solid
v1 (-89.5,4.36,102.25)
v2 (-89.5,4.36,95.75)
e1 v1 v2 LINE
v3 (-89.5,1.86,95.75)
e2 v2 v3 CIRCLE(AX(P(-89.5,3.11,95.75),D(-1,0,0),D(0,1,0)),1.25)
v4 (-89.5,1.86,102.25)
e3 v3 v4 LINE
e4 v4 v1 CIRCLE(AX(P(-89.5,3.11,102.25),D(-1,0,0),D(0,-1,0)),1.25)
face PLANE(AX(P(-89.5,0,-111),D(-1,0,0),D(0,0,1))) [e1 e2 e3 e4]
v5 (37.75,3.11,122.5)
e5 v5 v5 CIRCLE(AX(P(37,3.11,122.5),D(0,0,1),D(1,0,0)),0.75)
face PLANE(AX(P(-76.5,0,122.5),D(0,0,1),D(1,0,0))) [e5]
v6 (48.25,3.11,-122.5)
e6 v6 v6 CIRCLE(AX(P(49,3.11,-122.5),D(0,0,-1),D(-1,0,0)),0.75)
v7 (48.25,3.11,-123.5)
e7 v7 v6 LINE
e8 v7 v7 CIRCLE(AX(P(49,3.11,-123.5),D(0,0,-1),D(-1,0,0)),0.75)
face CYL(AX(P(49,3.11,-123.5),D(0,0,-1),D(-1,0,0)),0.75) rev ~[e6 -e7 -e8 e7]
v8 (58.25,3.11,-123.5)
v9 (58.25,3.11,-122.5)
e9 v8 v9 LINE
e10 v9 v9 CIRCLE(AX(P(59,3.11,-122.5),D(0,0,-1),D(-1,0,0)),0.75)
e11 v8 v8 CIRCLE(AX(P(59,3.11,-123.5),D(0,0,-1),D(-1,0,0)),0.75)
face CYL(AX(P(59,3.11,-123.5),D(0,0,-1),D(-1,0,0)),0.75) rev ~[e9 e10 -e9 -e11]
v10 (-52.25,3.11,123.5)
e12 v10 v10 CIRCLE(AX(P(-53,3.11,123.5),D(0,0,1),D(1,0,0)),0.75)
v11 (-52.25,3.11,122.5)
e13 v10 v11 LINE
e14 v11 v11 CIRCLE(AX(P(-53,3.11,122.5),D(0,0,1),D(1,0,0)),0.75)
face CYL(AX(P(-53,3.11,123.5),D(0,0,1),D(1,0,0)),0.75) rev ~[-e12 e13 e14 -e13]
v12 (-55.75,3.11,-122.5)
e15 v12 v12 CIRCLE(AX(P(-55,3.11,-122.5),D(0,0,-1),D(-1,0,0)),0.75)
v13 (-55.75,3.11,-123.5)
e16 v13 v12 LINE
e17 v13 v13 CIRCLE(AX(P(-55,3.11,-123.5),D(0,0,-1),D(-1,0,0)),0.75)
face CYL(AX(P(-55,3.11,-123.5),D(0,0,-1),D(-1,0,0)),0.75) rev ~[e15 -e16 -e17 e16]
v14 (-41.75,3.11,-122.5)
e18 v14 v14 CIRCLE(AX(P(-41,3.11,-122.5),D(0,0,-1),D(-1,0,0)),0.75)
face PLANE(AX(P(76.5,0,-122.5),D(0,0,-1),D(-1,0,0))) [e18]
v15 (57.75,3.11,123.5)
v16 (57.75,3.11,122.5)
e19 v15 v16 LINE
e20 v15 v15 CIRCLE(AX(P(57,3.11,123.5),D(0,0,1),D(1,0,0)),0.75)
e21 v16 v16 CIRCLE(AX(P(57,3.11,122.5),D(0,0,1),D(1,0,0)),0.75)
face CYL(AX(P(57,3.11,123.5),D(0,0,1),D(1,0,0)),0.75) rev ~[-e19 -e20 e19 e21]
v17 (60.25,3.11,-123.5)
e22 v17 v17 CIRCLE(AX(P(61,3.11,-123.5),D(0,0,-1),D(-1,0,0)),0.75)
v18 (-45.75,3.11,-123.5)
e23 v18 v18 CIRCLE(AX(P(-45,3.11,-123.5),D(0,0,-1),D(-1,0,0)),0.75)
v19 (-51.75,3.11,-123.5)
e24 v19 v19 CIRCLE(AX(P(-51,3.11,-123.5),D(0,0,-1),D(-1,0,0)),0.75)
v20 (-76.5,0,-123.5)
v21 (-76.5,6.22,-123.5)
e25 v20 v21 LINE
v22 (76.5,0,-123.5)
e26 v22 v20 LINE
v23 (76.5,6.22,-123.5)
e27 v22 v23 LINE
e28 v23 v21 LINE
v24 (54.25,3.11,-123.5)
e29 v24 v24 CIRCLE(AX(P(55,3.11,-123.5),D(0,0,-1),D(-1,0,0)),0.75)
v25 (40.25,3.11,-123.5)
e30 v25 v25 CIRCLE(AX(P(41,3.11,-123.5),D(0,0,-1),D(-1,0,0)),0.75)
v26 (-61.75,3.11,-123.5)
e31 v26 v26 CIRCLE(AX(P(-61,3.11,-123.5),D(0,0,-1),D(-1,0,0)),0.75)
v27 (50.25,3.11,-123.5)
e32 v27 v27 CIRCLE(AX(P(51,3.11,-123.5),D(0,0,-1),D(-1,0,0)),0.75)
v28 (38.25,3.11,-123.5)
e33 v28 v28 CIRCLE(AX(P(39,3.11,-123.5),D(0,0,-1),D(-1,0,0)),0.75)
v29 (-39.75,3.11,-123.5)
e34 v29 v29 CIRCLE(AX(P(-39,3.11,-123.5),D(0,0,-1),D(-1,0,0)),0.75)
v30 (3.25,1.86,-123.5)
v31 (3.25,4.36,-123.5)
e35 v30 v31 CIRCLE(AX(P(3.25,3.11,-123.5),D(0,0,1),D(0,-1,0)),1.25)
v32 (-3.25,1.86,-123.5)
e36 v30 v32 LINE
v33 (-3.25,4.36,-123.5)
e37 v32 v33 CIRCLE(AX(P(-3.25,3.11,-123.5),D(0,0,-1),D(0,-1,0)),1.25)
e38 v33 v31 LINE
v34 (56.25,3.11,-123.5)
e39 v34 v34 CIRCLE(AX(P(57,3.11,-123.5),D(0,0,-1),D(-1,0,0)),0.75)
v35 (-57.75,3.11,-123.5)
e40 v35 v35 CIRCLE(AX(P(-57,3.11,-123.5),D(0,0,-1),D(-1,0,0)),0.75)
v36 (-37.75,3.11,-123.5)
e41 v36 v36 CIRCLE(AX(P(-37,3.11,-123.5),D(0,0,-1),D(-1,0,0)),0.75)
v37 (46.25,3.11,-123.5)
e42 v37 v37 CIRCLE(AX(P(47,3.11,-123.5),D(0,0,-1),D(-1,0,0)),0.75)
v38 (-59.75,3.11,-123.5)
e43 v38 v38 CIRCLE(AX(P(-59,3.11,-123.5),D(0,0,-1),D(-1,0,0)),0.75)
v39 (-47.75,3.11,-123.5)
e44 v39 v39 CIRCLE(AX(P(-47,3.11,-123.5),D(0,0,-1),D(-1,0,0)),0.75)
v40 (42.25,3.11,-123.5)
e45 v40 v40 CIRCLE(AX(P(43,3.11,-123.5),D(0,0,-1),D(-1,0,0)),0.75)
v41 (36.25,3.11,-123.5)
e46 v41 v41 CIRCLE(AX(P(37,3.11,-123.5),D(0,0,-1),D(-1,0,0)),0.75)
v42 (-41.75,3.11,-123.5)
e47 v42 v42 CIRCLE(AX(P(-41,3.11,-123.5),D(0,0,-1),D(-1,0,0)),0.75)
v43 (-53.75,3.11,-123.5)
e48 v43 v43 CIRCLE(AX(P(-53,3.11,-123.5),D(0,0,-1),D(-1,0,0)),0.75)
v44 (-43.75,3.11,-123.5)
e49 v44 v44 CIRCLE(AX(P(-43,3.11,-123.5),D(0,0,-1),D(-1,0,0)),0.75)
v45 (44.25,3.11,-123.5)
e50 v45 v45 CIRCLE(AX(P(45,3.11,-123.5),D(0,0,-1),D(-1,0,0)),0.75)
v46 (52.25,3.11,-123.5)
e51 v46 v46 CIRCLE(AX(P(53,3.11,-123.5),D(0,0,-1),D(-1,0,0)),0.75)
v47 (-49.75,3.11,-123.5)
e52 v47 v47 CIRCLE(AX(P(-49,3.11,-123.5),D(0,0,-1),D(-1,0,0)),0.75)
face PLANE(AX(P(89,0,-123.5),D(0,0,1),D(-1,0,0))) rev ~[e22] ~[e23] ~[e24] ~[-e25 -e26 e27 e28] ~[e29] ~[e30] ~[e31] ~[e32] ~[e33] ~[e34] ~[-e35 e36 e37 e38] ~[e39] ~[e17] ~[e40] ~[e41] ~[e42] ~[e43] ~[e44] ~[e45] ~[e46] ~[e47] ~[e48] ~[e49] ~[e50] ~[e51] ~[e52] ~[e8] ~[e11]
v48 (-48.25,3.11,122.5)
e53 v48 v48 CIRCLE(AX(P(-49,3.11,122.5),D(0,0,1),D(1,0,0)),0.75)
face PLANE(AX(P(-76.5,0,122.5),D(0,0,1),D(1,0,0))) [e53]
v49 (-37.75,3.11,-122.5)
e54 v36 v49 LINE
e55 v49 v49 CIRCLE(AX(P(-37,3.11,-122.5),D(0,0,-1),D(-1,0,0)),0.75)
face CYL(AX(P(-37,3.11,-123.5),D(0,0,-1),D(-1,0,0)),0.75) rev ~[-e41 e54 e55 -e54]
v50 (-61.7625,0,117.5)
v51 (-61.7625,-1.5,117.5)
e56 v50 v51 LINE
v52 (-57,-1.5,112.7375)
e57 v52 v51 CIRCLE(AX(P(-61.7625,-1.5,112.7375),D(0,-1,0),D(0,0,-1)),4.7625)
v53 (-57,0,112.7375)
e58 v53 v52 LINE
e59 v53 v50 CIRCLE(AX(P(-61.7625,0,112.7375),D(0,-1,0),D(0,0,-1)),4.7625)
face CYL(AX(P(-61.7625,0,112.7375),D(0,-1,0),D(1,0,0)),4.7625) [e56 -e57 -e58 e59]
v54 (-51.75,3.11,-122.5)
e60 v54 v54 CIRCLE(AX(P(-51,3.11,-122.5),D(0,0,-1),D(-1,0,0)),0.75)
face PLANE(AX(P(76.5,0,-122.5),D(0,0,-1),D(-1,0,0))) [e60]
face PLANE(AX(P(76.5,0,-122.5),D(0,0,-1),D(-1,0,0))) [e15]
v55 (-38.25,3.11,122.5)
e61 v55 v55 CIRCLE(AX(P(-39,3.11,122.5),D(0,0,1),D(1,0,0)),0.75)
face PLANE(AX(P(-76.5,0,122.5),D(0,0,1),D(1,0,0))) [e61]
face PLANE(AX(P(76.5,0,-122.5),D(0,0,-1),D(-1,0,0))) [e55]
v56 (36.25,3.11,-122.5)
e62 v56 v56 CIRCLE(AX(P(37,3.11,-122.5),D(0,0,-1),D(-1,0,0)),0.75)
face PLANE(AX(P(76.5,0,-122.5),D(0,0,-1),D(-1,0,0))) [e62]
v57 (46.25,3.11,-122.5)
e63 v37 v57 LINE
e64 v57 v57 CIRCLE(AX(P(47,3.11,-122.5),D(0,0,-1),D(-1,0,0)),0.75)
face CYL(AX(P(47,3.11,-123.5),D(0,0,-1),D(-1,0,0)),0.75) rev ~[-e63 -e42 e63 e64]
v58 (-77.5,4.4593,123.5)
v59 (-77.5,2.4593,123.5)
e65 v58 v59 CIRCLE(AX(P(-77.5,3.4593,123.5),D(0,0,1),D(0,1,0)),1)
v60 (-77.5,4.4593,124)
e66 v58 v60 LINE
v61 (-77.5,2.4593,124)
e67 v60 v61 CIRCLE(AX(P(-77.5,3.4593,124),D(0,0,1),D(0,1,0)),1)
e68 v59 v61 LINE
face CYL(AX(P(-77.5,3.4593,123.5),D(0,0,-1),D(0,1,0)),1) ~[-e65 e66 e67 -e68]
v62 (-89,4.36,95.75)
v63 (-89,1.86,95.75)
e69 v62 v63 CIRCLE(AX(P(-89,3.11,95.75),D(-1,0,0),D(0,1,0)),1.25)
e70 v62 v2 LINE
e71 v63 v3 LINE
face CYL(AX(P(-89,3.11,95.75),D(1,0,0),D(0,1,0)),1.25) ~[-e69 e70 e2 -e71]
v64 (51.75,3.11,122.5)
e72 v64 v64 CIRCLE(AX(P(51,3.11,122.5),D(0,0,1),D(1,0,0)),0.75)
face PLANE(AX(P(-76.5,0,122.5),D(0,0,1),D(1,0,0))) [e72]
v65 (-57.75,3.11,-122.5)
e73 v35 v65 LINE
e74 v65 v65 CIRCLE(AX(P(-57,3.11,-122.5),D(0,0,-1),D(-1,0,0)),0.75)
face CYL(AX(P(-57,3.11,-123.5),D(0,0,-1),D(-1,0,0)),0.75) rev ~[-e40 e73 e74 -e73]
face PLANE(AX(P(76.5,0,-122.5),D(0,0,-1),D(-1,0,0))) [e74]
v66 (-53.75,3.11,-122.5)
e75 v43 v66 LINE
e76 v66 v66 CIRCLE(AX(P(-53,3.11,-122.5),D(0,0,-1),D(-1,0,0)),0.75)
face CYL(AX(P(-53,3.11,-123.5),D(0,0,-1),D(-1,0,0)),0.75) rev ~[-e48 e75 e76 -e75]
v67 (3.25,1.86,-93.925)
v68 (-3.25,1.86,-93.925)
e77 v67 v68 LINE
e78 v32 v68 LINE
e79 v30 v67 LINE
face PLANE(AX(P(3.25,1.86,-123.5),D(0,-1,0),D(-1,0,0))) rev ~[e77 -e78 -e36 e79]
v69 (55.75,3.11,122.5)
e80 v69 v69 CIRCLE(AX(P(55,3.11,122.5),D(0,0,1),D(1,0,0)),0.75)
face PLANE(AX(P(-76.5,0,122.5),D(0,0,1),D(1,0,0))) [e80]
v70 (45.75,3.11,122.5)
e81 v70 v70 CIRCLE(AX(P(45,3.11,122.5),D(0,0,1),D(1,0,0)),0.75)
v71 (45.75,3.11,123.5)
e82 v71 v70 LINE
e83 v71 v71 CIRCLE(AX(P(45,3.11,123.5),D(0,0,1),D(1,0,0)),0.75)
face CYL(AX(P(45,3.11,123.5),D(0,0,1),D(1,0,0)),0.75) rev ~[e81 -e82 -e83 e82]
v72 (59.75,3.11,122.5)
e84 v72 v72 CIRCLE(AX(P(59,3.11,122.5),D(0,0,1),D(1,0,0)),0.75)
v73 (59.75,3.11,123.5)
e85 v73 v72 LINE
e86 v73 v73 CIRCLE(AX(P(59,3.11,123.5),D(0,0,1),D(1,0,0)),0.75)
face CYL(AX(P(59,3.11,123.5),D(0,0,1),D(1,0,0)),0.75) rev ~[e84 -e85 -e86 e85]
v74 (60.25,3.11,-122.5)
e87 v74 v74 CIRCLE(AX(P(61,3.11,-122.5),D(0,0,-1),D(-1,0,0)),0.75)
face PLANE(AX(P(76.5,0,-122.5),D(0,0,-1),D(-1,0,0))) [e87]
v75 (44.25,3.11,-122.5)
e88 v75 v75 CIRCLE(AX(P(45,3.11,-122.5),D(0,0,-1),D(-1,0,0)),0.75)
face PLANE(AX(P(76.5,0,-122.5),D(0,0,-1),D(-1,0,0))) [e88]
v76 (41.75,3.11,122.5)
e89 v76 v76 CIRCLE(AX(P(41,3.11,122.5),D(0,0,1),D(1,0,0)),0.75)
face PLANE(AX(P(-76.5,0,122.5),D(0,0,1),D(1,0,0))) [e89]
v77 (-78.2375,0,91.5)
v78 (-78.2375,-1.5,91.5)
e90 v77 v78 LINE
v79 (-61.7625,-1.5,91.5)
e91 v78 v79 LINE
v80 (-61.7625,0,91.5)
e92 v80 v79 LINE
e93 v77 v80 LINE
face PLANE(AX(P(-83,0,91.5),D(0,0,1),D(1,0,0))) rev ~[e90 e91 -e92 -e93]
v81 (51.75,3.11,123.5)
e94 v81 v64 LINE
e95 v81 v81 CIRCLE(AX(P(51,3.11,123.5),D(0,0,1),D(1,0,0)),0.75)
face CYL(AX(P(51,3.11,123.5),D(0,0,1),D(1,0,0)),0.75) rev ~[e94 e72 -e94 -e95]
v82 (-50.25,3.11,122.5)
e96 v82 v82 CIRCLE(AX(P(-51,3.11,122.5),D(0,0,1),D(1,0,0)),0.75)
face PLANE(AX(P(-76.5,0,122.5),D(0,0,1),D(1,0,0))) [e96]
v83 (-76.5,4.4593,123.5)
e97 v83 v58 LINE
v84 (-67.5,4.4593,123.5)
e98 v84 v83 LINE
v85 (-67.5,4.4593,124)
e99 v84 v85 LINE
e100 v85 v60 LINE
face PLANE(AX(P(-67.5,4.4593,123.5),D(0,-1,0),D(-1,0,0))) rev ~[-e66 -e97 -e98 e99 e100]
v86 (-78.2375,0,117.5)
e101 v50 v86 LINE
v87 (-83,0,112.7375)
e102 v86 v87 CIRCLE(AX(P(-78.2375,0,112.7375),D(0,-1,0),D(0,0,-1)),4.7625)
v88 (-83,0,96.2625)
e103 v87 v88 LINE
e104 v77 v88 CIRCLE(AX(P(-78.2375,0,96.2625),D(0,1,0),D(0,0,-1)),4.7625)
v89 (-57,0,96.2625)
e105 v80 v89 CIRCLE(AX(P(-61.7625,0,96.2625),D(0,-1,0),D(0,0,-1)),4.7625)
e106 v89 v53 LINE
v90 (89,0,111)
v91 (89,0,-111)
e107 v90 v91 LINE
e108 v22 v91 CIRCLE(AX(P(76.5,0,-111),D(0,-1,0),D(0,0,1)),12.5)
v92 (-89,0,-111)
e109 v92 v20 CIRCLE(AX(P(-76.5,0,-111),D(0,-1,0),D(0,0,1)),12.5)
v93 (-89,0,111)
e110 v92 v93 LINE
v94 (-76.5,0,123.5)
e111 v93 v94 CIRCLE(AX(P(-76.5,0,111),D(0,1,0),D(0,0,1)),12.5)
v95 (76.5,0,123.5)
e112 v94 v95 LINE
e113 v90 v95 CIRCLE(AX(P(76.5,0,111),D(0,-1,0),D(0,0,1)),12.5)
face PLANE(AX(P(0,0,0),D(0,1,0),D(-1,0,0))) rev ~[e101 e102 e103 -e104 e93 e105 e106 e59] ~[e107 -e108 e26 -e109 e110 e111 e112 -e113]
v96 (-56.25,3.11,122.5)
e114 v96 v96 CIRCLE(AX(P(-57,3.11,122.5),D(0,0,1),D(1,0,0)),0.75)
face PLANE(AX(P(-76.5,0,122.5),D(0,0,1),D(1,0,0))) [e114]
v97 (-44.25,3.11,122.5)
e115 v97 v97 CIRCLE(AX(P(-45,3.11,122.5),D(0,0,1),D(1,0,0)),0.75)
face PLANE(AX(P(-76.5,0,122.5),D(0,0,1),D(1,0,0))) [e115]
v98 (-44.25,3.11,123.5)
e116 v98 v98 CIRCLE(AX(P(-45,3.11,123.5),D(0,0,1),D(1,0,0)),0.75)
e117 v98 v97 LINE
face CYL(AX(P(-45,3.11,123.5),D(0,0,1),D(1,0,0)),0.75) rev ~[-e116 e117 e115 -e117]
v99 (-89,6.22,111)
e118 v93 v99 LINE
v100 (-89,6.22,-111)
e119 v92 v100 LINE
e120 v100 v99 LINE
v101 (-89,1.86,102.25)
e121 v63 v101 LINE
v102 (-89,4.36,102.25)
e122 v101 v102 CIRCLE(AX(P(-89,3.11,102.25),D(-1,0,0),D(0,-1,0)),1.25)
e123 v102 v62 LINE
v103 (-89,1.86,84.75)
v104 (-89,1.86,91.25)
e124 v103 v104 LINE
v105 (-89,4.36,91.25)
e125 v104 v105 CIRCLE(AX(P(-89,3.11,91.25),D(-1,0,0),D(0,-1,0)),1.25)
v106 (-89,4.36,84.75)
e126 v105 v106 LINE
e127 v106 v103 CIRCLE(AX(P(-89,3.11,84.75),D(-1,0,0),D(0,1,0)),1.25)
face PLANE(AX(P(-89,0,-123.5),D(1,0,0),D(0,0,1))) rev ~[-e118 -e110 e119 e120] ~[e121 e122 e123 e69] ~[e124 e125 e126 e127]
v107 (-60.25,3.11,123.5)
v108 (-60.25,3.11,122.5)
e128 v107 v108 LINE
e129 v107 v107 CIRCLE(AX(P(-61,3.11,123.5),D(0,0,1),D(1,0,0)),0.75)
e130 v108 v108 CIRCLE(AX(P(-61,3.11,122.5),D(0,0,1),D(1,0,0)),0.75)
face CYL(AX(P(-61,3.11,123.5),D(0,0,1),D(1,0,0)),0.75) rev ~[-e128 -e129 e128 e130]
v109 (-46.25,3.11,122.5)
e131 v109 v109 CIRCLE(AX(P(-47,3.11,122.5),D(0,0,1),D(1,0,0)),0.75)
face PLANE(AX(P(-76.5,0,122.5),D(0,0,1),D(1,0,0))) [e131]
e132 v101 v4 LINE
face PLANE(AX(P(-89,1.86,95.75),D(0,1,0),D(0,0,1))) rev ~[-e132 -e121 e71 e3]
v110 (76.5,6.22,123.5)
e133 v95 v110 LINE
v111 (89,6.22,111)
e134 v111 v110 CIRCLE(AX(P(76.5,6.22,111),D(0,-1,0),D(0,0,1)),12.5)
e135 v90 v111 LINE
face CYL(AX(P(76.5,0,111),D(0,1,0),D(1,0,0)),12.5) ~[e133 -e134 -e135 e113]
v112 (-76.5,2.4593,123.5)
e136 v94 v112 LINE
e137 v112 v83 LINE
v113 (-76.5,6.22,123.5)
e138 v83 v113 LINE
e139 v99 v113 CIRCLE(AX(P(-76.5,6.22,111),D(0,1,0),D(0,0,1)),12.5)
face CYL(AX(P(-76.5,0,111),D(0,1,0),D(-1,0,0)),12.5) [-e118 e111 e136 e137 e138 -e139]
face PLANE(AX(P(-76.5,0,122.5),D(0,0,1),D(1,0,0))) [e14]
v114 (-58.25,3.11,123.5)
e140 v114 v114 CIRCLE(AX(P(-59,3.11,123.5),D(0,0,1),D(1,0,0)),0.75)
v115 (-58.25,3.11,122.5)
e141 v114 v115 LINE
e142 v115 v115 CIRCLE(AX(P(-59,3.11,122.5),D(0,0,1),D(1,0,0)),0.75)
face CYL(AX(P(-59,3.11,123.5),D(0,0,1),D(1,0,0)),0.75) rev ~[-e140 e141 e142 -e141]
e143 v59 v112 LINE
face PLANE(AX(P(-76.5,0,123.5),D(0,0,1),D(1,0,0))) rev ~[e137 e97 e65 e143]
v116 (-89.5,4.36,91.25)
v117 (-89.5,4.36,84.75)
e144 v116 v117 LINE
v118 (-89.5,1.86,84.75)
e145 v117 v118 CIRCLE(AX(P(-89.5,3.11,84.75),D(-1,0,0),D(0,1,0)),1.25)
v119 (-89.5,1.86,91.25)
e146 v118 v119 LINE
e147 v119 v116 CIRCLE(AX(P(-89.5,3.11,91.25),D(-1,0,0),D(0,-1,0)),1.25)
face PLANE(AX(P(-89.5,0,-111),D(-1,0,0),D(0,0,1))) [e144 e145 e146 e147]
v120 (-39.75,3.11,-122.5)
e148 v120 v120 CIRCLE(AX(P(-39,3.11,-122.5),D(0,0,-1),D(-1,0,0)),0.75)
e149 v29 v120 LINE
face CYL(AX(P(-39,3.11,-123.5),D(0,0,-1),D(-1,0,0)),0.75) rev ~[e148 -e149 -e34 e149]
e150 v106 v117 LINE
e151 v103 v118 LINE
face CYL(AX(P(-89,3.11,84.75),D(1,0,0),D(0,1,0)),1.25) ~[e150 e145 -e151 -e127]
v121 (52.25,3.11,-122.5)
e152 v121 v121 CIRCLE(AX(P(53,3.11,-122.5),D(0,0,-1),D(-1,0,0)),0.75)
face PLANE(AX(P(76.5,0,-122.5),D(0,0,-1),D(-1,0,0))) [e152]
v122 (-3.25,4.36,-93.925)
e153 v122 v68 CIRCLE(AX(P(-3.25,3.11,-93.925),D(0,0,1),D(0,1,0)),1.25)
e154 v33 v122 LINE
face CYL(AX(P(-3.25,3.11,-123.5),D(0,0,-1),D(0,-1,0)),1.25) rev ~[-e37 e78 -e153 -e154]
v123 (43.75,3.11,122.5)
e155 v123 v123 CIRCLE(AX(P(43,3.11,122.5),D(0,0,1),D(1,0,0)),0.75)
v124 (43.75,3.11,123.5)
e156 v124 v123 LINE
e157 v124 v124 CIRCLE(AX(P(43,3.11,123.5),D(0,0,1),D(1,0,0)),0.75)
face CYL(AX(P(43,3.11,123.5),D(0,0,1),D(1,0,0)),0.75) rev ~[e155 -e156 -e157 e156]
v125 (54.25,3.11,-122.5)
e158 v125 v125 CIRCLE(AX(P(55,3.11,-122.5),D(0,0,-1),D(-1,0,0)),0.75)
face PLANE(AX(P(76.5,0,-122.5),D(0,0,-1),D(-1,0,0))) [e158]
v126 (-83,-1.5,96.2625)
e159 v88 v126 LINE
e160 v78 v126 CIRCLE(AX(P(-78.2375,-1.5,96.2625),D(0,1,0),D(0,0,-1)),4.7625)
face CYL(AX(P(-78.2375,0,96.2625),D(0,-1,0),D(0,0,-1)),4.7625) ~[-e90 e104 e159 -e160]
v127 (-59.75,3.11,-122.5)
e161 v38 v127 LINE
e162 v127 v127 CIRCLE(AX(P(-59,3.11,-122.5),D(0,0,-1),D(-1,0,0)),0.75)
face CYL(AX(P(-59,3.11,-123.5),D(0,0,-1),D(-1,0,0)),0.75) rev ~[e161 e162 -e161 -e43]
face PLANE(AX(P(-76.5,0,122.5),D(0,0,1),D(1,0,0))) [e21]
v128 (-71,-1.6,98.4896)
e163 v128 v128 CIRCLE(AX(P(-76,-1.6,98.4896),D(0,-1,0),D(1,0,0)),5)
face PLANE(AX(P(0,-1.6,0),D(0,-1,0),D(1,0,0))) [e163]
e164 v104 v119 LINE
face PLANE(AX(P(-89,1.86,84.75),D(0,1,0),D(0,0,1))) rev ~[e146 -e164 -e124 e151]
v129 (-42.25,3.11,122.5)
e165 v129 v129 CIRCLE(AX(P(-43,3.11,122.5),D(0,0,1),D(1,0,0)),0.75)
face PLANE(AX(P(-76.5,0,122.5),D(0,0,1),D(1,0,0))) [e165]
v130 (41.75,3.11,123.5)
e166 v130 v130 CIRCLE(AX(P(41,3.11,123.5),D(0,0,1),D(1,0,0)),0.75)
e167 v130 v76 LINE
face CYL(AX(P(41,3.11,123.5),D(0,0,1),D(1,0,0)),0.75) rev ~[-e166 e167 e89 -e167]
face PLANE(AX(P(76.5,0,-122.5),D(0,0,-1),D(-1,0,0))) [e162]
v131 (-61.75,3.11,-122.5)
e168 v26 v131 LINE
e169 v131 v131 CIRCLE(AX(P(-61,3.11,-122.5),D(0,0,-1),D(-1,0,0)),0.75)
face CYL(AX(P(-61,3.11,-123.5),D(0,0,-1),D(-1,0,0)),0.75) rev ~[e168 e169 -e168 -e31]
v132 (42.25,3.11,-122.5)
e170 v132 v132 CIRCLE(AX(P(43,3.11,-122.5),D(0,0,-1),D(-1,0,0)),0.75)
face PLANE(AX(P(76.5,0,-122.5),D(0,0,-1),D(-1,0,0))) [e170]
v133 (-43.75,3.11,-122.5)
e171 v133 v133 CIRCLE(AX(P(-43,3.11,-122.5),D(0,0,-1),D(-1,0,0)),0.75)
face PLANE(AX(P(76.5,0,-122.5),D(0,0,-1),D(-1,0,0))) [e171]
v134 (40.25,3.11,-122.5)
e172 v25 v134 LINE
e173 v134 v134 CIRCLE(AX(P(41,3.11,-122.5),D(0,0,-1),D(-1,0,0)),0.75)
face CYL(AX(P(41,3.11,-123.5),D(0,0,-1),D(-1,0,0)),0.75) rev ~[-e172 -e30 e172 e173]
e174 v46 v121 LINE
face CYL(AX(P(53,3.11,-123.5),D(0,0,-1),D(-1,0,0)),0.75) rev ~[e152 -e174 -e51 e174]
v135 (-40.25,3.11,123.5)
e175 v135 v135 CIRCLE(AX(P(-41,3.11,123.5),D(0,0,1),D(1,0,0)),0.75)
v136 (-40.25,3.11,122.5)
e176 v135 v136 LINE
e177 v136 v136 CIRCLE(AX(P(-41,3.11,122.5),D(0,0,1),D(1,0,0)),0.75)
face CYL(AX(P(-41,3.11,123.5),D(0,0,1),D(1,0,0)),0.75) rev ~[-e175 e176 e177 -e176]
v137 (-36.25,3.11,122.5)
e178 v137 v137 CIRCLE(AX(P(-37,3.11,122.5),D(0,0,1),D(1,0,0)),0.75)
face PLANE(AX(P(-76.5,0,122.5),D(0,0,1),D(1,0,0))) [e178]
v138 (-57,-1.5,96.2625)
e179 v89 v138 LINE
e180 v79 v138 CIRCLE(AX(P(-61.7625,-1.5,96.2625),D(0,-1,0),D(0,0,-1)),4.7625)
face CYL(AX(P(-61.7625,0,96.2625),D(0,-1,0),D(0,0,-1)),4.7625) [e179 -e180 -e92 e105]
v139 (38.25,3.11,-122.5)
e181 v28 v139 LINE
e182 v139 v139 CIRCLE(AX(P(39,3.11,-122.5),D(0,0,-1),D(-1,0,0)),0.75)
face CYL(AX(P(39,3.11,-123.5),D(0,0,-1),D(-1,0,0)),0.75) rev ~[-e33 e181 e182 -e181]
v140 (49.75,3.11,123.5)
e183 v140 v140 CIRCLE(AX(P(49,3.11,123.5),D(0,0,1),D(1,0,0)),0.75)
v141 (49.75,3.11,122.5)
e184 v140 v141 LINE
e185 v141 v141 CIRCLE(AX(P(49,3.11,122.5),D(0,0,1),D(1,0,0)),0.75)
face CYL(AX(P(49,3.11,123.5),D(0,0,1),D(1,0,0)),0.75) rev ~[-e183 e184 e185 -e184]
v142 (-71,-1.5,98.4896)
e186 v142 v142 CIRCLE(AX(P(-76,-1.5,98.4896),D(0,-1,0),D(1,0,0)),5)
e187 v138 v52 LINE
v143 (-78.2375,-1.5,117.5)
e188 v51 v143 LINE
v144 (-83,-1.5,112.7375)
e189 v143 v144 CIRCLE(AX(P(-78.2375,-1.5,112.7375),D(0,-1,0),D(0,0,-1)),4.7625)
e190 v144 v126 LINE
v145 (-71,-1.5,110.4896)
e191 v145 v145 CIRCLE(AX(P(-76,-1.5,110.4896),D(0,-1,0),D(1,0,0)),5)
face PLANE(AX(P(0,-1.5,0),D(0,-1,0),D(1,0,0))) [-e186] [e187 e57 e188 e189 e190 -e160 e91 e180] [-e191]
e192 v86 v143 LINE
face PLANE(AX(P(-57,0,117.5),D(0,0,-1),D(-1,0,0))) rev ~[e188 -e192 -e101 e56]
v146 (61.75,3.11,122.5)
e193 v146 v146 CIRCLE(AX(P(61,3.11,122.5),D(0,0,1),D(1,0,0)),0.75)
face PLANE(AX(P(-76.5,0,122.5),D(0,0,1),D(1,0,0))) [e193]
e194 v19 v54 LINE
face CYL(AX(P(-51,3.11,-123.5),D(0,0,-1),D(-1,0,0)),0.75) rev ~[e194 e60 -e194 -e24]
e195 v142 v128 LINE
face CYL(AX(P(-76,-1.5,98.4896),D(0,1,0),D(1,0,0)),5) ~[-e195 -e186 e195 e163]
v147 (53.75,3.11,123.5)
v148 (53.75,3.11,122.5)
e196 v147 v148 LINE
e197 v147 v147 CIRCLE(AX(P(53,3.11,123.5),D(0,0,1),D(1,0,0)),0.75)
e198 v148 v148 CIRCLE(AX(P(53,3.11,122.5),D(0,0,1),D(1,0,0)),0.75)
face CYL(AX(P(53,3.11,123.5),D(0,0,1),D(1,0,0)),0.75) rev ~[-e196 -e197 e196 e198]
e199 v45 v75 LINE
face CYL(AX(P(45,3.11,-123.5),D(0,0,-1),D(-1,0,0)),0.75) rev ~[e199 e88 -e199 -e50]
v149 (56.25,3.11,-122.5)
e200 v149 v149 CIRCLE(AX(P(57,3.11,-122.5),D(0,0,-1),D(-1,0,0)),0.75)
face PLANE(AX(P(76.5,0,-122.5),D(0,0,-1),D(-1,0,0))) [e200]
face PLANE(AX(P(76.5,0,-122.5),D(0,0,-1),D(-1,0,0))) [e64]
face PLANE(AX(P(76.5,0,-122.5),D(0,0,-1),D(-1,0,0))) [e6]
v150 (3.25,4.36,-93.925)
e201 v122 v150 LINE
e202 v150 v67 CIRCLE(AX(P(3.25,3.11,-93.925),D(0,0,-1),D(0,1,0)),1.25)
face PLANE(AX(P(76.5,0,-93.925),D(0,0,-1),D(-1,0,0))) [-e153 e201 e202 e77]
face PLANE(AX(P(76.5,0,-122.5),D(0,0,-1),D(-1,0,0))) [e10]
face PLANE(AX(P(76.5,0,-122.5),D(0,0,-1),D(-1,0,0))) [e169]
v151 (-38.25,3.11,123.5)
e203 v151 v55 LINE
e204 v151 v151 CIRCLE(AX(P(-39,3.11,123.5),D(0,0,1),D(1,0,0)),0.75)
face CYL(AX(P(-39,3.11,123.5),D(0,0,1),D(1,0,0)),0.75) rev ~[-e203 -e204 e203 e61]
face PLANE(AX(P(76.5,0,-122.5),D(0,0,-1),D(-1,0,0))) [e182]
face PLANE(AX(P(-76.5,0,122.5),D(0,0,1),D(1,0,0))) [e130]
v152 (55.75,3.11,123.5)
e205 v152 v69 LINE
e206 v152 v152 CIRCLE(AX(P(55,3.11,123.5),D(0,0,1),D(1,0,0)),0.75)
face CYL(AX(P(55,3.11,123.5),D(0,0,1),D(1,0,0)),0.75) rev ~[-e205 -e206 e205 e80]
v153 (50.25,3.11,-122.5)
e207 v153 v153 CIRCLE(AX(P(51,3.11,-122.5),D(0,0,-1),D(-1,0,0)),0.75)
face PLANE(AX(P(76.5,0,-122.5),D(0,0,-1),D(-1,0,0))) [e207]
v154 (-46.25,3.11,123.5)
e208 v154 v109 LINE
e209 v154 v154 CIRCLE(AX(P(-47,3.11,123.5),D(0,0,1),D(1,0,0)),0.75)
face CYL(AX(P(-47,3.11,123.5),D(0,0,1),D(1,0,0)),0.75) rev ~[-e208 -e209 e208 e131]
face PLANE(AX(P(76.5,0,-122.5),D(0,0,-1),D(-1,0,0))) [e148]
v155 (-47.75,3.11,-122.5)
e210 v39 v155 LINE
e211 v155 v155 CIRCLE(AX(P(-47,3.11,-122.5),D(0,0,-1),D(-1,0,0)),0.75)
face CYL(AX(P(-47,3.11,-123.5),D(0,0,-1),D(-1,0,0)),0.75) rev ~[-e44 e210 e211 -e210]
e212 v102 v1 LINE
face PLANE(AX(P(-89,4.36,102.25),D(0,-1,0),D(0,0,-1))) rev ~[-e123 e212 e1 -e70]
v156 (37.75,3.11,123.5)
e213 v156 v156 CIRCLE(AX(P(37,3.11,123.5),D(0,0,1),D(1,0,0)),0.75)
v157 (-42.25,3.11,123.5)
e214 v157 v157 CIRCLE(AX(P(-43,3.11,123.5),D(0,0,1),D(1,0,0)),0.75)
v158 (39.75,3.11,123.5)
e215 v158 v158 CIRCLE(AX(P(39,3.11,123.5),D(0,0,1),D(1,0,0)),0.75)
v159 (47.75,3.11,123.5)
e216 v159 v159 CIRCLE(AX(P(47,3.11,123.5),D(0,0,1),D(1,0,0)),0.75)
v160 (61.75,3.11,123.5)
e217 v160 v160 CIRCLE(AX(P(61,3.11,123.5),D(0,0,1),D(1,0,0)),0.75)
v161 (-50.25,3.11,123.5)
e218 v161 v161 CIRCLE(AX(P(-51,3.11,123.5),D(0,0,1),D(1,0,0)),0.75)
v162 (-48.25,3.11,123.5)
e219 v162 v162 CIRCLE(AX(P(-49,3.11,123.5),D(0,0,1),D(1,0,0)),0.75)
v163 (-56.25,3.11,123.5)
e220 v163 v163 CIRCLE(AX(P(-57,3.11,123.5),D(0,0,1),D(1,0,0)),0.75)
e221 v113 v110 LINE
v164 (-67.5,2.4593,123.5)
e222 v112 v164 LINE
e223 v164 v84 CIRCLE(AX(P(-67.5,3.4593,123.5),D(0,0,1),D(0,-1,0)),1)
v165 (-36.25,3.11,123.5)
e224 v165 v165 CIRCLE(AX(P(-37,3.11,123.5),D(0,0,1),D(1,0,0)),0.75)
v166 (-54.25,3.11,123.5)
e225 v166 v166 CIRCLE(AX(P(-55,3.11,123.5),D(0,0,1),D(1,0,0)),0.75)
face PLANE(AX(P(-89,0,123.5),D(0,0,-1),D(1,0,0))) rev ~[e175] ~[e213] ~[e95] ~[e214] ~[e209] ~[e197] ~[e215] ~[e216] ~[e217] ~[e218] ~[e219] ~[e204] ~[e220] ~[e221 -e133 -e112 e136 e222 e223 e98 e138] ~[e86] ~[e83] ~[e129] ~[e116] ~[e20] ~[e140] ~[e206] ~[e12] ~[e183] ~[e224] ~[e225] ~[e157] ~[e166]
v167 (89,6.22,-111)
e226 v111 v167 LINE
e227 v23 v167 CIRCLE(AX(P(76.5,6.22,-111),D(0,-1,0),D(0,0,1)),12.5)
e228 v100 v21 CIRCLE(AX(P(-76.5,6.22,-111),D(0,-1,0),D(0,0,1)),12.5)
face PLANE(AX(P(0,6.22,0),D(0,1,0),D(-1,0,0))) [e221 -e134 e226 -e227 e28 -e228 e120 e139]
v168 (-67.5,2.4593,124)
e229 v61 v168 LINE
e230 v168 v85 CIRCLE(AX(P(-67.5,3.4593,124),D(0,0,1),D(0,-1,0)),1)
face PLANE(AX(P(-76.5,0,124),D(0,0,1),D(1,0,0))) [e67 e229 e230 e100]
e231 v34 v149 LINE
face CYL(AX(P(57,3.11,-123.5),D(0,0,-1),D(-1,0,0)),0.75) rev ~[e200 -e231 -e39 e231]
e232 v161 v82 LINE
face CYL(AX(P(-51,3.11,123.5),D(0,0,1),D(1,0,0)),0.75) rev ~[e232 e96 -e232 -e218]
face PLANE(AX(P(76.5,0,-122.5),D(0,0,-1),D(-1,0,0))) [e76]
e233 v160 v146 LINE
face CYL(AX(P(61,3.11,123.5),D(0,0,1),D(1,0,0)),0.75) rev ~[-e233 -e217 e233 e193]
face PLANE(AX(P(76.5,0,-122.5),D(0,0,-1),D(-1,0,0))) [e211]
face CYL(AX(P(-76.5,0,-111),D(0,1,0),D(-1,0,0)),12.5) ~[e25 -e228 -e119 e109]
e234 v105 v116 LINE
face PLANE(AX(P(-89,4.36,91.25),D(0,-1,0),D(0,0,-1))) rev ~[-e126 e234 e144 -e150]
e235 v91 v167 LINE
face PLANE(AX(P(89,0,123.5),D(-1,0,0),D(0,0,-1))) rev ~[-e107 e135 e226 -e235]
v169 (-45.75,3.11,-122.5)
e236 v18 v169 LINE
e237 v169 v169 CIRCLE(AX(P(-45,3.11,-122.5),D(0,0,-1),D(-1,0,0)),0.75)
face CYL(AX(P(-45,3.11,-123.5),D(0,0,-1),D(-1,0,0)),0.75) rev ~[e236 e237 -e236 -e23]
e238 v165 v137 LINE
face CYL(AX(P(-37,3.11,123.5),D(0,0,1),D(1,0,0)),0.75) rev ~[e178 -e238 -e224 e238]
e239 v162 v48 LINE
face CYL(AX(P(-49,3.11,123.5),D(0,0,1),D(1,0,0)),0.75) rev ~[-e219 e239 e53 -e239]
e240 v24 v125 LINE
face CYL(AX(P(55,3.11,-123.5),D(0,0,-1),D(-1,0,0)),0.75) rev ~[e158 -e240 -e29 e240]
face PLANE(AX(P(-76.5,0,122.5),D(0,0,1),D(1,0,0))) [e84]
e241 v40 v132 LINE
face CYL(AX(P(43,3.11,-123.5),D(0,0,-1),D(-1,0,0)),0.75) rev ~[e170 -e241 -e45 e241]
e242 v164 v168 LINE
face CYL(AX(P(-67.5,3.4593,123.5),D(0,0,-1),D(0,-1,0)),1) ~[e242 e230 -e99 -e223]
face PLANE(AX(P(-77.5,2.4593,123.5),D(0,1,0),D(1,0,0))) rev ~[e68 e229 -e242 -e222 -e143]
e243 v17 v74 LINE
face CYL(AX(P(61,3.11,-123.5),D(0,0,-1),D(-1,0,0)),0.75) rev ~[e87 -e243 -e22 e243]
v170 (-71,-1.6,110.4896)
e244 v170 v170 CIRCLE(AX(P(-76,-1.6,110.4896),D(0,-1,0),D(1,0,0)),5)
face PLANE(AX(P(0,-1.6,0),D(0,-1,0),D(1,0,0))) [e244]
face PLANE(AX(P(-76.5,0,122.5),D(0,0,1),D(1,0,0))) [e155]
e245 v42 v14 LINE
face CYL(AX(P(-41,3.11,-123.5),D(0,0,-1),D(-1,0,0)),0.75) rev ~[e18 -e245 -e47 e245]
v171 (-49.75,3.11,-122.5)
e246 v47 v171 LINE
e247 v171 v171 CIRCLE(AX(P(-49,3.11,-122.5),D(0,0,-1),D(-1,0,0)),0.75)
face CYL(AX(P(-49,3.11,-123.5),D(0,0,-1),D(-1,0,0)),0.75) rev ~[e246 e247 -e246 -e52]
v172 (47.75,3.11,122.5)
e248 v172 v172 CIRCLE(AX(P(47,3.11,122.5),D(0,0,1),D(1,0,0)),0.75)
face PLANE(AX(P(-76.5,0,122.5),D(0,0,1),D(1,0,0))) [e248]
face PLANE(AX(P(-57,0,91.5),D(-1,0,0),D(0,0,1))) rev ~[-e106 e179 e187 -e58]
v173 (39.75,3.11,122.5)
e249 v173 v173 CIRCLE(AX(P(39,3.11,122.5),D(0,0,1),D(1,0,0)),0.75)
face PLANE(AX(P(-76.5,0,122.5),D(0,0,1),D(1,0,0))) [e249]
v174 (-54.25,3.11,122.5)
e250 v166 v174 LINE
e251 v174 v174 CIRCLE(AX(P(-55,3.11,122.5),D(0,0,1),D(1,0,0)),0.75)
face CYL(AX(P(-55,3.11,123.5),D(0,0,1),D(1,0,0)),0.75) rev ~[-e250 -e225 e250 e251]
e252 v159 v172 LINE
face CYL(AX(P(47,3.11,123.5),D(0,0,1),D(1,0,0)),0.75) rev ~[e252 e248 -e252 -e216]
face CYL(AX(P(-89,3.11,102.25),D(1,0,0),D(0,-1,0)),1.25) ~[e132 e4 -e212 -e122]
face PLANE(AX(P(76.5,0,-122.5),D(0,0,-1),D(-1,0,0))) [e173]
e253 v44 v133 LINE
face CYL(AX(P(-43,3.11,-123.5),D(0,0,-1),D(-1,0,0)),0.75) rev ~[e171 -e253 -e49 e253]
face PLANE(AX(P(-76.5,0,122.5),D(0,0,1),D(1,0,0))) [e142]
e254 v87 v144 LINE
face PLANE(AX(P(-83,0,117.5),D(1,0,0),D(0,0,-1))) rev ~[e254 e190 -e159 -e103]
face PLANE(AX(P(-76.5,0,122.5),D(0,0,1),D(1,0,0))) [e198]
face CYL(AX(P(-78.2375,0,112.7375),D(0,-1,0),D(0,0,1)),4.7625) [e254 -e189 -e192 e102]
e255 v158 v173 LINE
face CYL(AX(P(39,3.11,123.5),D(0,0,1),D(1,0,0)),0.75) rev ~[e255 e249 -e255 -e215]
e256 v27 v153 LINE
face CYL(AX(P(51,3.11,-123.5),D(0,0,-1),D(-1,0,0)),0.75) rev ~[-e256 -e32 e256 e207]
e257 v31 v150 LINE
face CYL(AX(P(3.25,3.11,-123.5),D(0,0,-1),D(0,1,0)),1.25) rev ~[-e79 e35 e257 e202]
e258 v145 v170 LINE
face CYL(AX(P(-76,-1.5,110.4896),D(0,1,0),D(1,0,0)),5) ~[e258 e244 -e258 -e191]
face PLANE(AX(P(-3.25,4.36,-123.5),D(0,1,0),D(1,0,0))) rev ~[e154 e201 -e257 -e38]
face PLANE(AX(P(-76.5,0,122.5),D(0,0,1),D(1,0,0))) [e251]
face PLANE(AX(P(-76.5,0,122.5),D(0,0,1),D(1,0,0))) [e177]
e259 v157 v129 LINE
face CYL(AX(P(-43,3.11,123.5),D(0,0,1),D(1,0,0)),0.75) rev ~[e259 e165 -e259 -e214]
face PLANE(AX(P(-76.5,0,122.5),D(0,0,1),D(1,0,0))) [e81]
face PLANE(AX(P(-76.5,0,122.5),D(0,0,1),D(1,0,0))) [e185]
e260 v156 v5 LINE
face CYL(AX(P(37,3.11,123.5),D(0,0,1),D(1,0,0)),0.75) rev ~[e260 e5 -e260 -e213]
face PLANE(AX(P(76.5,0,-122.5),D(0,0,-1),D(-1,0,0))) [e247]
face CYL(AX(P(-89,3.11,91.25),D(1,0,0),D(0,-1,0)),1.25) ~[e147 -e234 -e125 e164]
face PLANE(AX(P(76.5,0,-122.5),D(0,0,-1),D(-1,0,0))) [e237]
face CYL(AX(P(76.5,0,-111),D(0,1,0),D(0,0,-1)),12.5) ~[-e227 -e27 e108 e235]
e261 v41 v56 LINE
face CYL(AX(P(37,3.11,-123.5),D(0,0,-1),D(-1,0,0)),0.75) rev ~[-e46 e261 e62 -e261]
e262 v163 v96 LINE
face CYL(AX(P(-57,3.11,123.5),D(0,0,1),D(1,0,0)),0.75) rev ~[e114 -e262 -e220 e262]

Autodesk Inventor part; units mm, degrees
ref_plane "YZ Plane" through (0, 0, 0) normal (1, 0, 0) x (0, 1, 0)
ref_plane "XZ Plane" through (0, 0, 0) normal (0, 1, 0) x (-1, 0, 0)
ref_plane "XY Plane" through (0, 0, 0) normal (0, 0, 1) x (1, 0, 0)
sketch "Sketch2" plane through (0, 0, 0) normal (0, 1, 0) x (-1, 0, 0)
  line L0 (89, 123.5) -> (-89, 123.5)
  line L1 (-89, 123.5) -> (-89, -123.5)
  line L2 (-89, -123.5) -> (89, -123.5)
  line L3 (89, -123.5) -> (89, 123.5)
  line L4 (89, 123.5) -> (-89, -123.5) construction
  line L5 (-89, 123.5) -> (89, -123.5) construction
  point P0 (0, 0)
  dimension "d0" = 178
  dimension "d1" = 247
extrude "Extrusion1" add sketch "Sketch2" along normal blind 6.22
fillet "Fillet1" radius 12.5 4 edges at (89, 3.11, 123.5) (-89, 3.11, 123.5) (-89, 3.11, -123.5) (89, 3.11, -123.5)
sketch "Sketch3" plane through (76.5, 0, 123.5) normal (0, 0, 1) x (1, 0, 0)
  point P0 (-76.5, 0)
sketch "Sketch4" plane through (76.5, 0, 123.5) normal (0, 0, 1) x (1, 0, 0)
  point P0 (-76.5, 0)
sketch "Sketch5" plane through (0, 0, 0) normal (0, -1, 0) x (1, 0, 0)
  line L0 (-83, 91.5) -> (-57, 91.5)
  line L1 (-57, 91.5) -> (-57, 117.5)
  line L2 (-57, 117.5) -> (-83, 117.5)
  line L3 (-83, 117.5) -> (-83, 91.5)
  line L4 (-83, 91.5) -> (-57, 117.5) construction
  line L5 (-57, 91.5) -> (-83, 117.5) construction
  line L6 (-89, 123.5) -> (76.5, 123.5) projected
  line L7 (-89, -123.5) -> (-89, 123.5) projected
  point P0 (0, 0)
  point P1 (-70, 104.5)
  point P2 (-76.3, 123.5)
  point P3 (-89, -110.8)
  point P4 (-89, 110.8)
  dimension "d8" = 26
  dimension "d9" = 26
  dimension "d10" = 6
  dimension "d11" = 6
extrude "Extrusion2" add sketch "Sketch5" along normal blind 1.5
fillet "Fillet5" radius 4.7625 1 edges at (-83, -0.75, 91.5)
fillet "Fillet6" radius 4.7625 1 edges at (-57, -0.75, 91.5)
fillet "Fillet7" radius 4.7625 1 edges at (-57, -0.75, 117.5)
fillet "Fillet8" radius 4.7625 1 edges at (-83, -0.75, 117.5)
sketch "Sketch6" plane through (0, -1.5, 0) normal (0, -1, 0) x (1, 0, 0)
  circle A0 centre (-76, 110.4896) radius 5
  line L0 (-83, 112.7375) -> (-83, 96.2625) projected
  line L1 (-61.7625, 117.5) -> (-78.2375, 117.5) projected
  circle A1 centre (-76, 98.4896) radius 5
  point P0 (0, 0)
  dimension "d18" = 10
  dimension "d19" = 7
  dimension "d20" = 7.0104
  dimension "d23" = 12
extrude "Extrusion3" add sketch "Sketch6" along normal blind 0.1
sketch "Sketch7" plane through (-76.5, 0, 123.5) normal (0, 0, 1) x (1, 0, 0)
  circle A0 centre (137.5, 3.11) radius 0.75
  line L0 (165.5, 0) -> (165.5, 6.22) projected
  line L1 (-12.5, 6.22) -> (-12.5, 0) projected
  line L2 (165.5, 3.11) -> (-12.5, 3.11) construction
  circle A1 centre (135.5, 3.11) radius 0.75
  circle A2 centre (133.5, 3.11) radius 0.75
  circle A3 centre (131.5, 3.11) radius 0.75
  circle A4 centre (129.5, 3.11) radius 0.75
  circle A5 centre (127.5, 3.11) radius 0.75
  circle A6 centre (125.5, 3.11) radius 0.75
  circle A7 centre (123.5, 3.11) radius 0.75
  circle A8 centre (121.5, 3.11) radius 0.75
  circle A9 centre (119.5, 3.11) radius 0.75
  circle A10 centre (117.5, 3.11) radius 0.75
  circle A11 centre (115.5, 3.11) radius 0.75
  circle A12 centre (113.5, 3.11) radius 0.75
  line L3 (153, 6.22) -> (153, 0) projected
  line L4 (0, 0) -> (0, 6.22) projected
  line L5 (0, 0) -> (153, 0) projected
  line L6 (0, 6.22) -> (153, 6.22) projected
  line L7 (76.5, 0) -> (76.5, 6.22) construction
  circle A13 centre (15.5, 3.11) radius 0.75
  circle A14 centre (17.5, 3.11) radius 0.75
  circle A15 centre (19.5, 3.11) radius 0.75
  circle A16 centre (21.5, 3.11) radius 0.75
  circle A17 centre (23.5, 3.11) radius 0.75
  circle A18 centre (25.5, 3.11) radius 0.75
  circle A19 centre (27.5, 3.11) radius 0.75
  circle A20 centre (29.5, 3.11) radius 0.75
  circle A21 centre (31.5, 3.11) radius 0.75
  circle A22 centre (33.5, 3.11) radius 0.75
  circle A23 centre (35.5, 3.11) radius 0.75
  circle A24 centre (37.5, 3.11) radius 0.75
  circle A25 centre (39.5, 3.11) radius 0.75
  dimension "d30" = 1.5
  dimension "d31" = 28
  dimension "d34" = 2
extrude "Extrusion4" cut sketch "Sketch7" against normal blind 1 contours A0 | A1 | A2 | A3 | A4 | A5 | A6 | A7 | A8 | A9 | A10 | A11 | A12 | A13 | A14 | A15 | A16 | A17 | A18 | A19 | A20 | A21 | A22 | A23 | A24 | A25
sketch "Sketch8" plane through (76.5, 0, -123.5) normal (0, 0, -1) x (-1, 0, 0)
  circle A0 centre (137.5, 3.11) radius 0.75 projected
  circle A1 centre (135.5, 3.11) radius 0.75 projected
  circle A2 centre (133.5, 3.11) radius 0.75 projected
  circle A3 centre (131.5, 3.11) radius 0.75 projected
  circle A4 centre (129.5, 3.11) radius 0.75 projected
  circle A5 centre (127.5, 3.11) radius 0.75 projected
  circle A6 centre (125.5, 3.11) radius 0.75 projected
  circle A7 centre (123.5, 3.11) radius 0.75 projected
  circle A8 centre (121.5, 3.11) radius 0.75 projected
  circle A9 centre (119.5, 3.11) radius 0.75 projected
  circle A10 centre (117.5, 3.11) radius 0.75 projected
  circle A11 centre (115.5, 3.11) radius 0.75 projected
  circle A12 centre (113.5, 3.11) radius 0.75 projected
  circle A13 centre (39.5, 3.11) radius 0.75 projected
  circle A14 centre (37.5, 3.11) radius 0.75 projected
  circle A15 centre (35.5, 3.11) radius 0.75 projected
  circle A16 centre (33.5, 3.11) radius 0.75 projected
  circle A17 centre (31.5, 3.11) radius 0.75 projected
  circle A18 centre (29.5, 3.11) radius 0.75 projected
  circle A19 centre (27.5, 3.11) radius 0.75 projected
  circle A20 centre (25.5, 3.11) radius 0.75 projected
  circle A21 centre (23.5, 3.11) radius 0.75 projected
  circle A22 centre (21.5, 3.11) radius 0.75 projected
  circle A23 centre (19.5, 3.11) radius 0.75 projected
  circle A24 centre (17.5, 3.11) radius 0.75 projected
  circle A25 centre (15.5, 3.11) radius 0.75 projected
  line L0 (0, 6.22) -> (153, 6.22) projected
  line L1 (0, 0) -> (0, 6.22) projected
  line L2 (0, 0) -> (153, 0) projected
  line L3 (153, 6.22) -> (153, 0) projected
  line L4 (0, 6.22) -> (153, 6.22) projected
  point P0 (76.5, 0)
extrude "Extrusion5" cut sketch "Sketch8" against normal blind 1 contours A0 | A1 | A2 | A3 | A4 | A5 | A6 | A7 | A8 | A9 | A10 | A11 | A12 | A13 | A14 | A15 | A16 | A17 | A18 | A19 | A20 | A21 | A22 | A23 | A24 | A25
sketch "Sketch9" plane through (76.5, 0, -123.5) normal (0, 0, -1) x (-1, 0, 0)
  line L0 (0, 6.22) -> (153, 6.22) projected
  line L1 (0, 0) -> (153, 0) projected
  line L2 (76.5, 0) -> (76.5, 6.22) construction
  line L3 (72, 3.11) -> (81, 3.11)
  line L4 (73.25, 1.86) -> (79.75, 1.86)
  line L5 (79.75, 4.36) -> (73.25, 4.36)
  arc A0 (73.25, 4.36) -> (73.25, 1.86) centre (73.25, 3.11) ccw
  arc A1 (79.75, 1.86) -> (79.75, 4.36) centre (79.75, 3.11) ccw
  point P0 (76.5, 3.11)
  dimension "d43" = 9
  dimension "d44" = 2.5
extrude "Extrusion6" cut sketch "Sketch9" against normal blind 29.575
sketch "Sketch10" plane through (-76.5, 0, 123.5) normal (0, 0, 1) x (1, 0, 0)
  line L0 (-12.5, 6.22) -> (-12.5, 0) projected
  line L1 (165.5, 0) -> (165.5, 6.22) projected
  line L2 (-2, 3.4593) -> (10, 3.4593) construction
  line L3 (-1, 2.4593) -> (9, 2.4593)
  line L4 (9, 4.4593) -> (-1, 4.4593)
  arc A0 (-1, 4.4593) -> (-1, 2.4593) centre (-1, 3.4593) ccw
  arc A1 (9, 2.4593) -> (9, 4.4593) centre (9, 3.4593) ccw
  point P0 (76.5, 0)
  point P1 (4, 3.4593)
  dimension "d47" = 12
  dimension "d48" = 2
  dimension "d49" = 16.5
extrude "Extrusion7" add sketch "Sketch10" along normal blind 0.5
sketch "Sketch11" plane through (-89, 0, -111) normal (-1, 0, 0) x (0, 0, 1)
  line L0 (234.5, 0) -> (234.5, 2.4593) projected
  line L1 (234.5, 6.22) -> (222, 6.22) projected
  line L2 (222, 6.22) -> (222, 0) projected
  line L3 (222, 0) -> (234.5, 0) projected
  line L4 (234.5, 0) -> (234.5, 2.4593) projected
  line L5 (234.5, 2.4593) -> (234.5, 4.4593) projected
  line L6 (234.5, 4.4593) -> (234.5, 6.22) projected
  line L7 (234.5, 6.22) -> (234.5, 0) projected
  line L8 (234.5, 3.11) -> (-12.4159, 3.11) construction
  line L9 (214.5, 3.11) -> (205.5, 3.11) construction
  line L10 (213.25, 4.36) -> (206.75, 4.36)
  line L11 (206.75, 1.86) -> (213.25, 1.86)
  arc A0 (213.25, 1.86) -> (213.25, 4.36) centre (213.25, 3.11) ccw
  arc A1 (206.75, 4.36) -> (206.75, 1.86) centre (206.75, 3.11) ccw
  line L12 (202.25, 4.36) -> (195.75, 4.36)
  arc A2 (195.75, 4.36) -> (195.75, 1.86) centre (195.75, 3.11) ccw
  line L13 (195.75, 1.86) -> (202.25, 1.86)
  arc A3 (202.25, 1.86) -> (202.25, 4.36) centre (202.25, 3.11) ccw
  point P0 (111, 0)
  point P1 (210, 3.11)
  dimension "d52" = 9
  dimension "d53" = 2.5
  dimension "d54" = 24.5
  dimension "d57" = 11
extrude "Extrusion8" add sketch "Sketch11" along normal blind 0.5 contours A0 L11 A1 L10 | A3 L13 A2 L12
properties part number "ipad"
